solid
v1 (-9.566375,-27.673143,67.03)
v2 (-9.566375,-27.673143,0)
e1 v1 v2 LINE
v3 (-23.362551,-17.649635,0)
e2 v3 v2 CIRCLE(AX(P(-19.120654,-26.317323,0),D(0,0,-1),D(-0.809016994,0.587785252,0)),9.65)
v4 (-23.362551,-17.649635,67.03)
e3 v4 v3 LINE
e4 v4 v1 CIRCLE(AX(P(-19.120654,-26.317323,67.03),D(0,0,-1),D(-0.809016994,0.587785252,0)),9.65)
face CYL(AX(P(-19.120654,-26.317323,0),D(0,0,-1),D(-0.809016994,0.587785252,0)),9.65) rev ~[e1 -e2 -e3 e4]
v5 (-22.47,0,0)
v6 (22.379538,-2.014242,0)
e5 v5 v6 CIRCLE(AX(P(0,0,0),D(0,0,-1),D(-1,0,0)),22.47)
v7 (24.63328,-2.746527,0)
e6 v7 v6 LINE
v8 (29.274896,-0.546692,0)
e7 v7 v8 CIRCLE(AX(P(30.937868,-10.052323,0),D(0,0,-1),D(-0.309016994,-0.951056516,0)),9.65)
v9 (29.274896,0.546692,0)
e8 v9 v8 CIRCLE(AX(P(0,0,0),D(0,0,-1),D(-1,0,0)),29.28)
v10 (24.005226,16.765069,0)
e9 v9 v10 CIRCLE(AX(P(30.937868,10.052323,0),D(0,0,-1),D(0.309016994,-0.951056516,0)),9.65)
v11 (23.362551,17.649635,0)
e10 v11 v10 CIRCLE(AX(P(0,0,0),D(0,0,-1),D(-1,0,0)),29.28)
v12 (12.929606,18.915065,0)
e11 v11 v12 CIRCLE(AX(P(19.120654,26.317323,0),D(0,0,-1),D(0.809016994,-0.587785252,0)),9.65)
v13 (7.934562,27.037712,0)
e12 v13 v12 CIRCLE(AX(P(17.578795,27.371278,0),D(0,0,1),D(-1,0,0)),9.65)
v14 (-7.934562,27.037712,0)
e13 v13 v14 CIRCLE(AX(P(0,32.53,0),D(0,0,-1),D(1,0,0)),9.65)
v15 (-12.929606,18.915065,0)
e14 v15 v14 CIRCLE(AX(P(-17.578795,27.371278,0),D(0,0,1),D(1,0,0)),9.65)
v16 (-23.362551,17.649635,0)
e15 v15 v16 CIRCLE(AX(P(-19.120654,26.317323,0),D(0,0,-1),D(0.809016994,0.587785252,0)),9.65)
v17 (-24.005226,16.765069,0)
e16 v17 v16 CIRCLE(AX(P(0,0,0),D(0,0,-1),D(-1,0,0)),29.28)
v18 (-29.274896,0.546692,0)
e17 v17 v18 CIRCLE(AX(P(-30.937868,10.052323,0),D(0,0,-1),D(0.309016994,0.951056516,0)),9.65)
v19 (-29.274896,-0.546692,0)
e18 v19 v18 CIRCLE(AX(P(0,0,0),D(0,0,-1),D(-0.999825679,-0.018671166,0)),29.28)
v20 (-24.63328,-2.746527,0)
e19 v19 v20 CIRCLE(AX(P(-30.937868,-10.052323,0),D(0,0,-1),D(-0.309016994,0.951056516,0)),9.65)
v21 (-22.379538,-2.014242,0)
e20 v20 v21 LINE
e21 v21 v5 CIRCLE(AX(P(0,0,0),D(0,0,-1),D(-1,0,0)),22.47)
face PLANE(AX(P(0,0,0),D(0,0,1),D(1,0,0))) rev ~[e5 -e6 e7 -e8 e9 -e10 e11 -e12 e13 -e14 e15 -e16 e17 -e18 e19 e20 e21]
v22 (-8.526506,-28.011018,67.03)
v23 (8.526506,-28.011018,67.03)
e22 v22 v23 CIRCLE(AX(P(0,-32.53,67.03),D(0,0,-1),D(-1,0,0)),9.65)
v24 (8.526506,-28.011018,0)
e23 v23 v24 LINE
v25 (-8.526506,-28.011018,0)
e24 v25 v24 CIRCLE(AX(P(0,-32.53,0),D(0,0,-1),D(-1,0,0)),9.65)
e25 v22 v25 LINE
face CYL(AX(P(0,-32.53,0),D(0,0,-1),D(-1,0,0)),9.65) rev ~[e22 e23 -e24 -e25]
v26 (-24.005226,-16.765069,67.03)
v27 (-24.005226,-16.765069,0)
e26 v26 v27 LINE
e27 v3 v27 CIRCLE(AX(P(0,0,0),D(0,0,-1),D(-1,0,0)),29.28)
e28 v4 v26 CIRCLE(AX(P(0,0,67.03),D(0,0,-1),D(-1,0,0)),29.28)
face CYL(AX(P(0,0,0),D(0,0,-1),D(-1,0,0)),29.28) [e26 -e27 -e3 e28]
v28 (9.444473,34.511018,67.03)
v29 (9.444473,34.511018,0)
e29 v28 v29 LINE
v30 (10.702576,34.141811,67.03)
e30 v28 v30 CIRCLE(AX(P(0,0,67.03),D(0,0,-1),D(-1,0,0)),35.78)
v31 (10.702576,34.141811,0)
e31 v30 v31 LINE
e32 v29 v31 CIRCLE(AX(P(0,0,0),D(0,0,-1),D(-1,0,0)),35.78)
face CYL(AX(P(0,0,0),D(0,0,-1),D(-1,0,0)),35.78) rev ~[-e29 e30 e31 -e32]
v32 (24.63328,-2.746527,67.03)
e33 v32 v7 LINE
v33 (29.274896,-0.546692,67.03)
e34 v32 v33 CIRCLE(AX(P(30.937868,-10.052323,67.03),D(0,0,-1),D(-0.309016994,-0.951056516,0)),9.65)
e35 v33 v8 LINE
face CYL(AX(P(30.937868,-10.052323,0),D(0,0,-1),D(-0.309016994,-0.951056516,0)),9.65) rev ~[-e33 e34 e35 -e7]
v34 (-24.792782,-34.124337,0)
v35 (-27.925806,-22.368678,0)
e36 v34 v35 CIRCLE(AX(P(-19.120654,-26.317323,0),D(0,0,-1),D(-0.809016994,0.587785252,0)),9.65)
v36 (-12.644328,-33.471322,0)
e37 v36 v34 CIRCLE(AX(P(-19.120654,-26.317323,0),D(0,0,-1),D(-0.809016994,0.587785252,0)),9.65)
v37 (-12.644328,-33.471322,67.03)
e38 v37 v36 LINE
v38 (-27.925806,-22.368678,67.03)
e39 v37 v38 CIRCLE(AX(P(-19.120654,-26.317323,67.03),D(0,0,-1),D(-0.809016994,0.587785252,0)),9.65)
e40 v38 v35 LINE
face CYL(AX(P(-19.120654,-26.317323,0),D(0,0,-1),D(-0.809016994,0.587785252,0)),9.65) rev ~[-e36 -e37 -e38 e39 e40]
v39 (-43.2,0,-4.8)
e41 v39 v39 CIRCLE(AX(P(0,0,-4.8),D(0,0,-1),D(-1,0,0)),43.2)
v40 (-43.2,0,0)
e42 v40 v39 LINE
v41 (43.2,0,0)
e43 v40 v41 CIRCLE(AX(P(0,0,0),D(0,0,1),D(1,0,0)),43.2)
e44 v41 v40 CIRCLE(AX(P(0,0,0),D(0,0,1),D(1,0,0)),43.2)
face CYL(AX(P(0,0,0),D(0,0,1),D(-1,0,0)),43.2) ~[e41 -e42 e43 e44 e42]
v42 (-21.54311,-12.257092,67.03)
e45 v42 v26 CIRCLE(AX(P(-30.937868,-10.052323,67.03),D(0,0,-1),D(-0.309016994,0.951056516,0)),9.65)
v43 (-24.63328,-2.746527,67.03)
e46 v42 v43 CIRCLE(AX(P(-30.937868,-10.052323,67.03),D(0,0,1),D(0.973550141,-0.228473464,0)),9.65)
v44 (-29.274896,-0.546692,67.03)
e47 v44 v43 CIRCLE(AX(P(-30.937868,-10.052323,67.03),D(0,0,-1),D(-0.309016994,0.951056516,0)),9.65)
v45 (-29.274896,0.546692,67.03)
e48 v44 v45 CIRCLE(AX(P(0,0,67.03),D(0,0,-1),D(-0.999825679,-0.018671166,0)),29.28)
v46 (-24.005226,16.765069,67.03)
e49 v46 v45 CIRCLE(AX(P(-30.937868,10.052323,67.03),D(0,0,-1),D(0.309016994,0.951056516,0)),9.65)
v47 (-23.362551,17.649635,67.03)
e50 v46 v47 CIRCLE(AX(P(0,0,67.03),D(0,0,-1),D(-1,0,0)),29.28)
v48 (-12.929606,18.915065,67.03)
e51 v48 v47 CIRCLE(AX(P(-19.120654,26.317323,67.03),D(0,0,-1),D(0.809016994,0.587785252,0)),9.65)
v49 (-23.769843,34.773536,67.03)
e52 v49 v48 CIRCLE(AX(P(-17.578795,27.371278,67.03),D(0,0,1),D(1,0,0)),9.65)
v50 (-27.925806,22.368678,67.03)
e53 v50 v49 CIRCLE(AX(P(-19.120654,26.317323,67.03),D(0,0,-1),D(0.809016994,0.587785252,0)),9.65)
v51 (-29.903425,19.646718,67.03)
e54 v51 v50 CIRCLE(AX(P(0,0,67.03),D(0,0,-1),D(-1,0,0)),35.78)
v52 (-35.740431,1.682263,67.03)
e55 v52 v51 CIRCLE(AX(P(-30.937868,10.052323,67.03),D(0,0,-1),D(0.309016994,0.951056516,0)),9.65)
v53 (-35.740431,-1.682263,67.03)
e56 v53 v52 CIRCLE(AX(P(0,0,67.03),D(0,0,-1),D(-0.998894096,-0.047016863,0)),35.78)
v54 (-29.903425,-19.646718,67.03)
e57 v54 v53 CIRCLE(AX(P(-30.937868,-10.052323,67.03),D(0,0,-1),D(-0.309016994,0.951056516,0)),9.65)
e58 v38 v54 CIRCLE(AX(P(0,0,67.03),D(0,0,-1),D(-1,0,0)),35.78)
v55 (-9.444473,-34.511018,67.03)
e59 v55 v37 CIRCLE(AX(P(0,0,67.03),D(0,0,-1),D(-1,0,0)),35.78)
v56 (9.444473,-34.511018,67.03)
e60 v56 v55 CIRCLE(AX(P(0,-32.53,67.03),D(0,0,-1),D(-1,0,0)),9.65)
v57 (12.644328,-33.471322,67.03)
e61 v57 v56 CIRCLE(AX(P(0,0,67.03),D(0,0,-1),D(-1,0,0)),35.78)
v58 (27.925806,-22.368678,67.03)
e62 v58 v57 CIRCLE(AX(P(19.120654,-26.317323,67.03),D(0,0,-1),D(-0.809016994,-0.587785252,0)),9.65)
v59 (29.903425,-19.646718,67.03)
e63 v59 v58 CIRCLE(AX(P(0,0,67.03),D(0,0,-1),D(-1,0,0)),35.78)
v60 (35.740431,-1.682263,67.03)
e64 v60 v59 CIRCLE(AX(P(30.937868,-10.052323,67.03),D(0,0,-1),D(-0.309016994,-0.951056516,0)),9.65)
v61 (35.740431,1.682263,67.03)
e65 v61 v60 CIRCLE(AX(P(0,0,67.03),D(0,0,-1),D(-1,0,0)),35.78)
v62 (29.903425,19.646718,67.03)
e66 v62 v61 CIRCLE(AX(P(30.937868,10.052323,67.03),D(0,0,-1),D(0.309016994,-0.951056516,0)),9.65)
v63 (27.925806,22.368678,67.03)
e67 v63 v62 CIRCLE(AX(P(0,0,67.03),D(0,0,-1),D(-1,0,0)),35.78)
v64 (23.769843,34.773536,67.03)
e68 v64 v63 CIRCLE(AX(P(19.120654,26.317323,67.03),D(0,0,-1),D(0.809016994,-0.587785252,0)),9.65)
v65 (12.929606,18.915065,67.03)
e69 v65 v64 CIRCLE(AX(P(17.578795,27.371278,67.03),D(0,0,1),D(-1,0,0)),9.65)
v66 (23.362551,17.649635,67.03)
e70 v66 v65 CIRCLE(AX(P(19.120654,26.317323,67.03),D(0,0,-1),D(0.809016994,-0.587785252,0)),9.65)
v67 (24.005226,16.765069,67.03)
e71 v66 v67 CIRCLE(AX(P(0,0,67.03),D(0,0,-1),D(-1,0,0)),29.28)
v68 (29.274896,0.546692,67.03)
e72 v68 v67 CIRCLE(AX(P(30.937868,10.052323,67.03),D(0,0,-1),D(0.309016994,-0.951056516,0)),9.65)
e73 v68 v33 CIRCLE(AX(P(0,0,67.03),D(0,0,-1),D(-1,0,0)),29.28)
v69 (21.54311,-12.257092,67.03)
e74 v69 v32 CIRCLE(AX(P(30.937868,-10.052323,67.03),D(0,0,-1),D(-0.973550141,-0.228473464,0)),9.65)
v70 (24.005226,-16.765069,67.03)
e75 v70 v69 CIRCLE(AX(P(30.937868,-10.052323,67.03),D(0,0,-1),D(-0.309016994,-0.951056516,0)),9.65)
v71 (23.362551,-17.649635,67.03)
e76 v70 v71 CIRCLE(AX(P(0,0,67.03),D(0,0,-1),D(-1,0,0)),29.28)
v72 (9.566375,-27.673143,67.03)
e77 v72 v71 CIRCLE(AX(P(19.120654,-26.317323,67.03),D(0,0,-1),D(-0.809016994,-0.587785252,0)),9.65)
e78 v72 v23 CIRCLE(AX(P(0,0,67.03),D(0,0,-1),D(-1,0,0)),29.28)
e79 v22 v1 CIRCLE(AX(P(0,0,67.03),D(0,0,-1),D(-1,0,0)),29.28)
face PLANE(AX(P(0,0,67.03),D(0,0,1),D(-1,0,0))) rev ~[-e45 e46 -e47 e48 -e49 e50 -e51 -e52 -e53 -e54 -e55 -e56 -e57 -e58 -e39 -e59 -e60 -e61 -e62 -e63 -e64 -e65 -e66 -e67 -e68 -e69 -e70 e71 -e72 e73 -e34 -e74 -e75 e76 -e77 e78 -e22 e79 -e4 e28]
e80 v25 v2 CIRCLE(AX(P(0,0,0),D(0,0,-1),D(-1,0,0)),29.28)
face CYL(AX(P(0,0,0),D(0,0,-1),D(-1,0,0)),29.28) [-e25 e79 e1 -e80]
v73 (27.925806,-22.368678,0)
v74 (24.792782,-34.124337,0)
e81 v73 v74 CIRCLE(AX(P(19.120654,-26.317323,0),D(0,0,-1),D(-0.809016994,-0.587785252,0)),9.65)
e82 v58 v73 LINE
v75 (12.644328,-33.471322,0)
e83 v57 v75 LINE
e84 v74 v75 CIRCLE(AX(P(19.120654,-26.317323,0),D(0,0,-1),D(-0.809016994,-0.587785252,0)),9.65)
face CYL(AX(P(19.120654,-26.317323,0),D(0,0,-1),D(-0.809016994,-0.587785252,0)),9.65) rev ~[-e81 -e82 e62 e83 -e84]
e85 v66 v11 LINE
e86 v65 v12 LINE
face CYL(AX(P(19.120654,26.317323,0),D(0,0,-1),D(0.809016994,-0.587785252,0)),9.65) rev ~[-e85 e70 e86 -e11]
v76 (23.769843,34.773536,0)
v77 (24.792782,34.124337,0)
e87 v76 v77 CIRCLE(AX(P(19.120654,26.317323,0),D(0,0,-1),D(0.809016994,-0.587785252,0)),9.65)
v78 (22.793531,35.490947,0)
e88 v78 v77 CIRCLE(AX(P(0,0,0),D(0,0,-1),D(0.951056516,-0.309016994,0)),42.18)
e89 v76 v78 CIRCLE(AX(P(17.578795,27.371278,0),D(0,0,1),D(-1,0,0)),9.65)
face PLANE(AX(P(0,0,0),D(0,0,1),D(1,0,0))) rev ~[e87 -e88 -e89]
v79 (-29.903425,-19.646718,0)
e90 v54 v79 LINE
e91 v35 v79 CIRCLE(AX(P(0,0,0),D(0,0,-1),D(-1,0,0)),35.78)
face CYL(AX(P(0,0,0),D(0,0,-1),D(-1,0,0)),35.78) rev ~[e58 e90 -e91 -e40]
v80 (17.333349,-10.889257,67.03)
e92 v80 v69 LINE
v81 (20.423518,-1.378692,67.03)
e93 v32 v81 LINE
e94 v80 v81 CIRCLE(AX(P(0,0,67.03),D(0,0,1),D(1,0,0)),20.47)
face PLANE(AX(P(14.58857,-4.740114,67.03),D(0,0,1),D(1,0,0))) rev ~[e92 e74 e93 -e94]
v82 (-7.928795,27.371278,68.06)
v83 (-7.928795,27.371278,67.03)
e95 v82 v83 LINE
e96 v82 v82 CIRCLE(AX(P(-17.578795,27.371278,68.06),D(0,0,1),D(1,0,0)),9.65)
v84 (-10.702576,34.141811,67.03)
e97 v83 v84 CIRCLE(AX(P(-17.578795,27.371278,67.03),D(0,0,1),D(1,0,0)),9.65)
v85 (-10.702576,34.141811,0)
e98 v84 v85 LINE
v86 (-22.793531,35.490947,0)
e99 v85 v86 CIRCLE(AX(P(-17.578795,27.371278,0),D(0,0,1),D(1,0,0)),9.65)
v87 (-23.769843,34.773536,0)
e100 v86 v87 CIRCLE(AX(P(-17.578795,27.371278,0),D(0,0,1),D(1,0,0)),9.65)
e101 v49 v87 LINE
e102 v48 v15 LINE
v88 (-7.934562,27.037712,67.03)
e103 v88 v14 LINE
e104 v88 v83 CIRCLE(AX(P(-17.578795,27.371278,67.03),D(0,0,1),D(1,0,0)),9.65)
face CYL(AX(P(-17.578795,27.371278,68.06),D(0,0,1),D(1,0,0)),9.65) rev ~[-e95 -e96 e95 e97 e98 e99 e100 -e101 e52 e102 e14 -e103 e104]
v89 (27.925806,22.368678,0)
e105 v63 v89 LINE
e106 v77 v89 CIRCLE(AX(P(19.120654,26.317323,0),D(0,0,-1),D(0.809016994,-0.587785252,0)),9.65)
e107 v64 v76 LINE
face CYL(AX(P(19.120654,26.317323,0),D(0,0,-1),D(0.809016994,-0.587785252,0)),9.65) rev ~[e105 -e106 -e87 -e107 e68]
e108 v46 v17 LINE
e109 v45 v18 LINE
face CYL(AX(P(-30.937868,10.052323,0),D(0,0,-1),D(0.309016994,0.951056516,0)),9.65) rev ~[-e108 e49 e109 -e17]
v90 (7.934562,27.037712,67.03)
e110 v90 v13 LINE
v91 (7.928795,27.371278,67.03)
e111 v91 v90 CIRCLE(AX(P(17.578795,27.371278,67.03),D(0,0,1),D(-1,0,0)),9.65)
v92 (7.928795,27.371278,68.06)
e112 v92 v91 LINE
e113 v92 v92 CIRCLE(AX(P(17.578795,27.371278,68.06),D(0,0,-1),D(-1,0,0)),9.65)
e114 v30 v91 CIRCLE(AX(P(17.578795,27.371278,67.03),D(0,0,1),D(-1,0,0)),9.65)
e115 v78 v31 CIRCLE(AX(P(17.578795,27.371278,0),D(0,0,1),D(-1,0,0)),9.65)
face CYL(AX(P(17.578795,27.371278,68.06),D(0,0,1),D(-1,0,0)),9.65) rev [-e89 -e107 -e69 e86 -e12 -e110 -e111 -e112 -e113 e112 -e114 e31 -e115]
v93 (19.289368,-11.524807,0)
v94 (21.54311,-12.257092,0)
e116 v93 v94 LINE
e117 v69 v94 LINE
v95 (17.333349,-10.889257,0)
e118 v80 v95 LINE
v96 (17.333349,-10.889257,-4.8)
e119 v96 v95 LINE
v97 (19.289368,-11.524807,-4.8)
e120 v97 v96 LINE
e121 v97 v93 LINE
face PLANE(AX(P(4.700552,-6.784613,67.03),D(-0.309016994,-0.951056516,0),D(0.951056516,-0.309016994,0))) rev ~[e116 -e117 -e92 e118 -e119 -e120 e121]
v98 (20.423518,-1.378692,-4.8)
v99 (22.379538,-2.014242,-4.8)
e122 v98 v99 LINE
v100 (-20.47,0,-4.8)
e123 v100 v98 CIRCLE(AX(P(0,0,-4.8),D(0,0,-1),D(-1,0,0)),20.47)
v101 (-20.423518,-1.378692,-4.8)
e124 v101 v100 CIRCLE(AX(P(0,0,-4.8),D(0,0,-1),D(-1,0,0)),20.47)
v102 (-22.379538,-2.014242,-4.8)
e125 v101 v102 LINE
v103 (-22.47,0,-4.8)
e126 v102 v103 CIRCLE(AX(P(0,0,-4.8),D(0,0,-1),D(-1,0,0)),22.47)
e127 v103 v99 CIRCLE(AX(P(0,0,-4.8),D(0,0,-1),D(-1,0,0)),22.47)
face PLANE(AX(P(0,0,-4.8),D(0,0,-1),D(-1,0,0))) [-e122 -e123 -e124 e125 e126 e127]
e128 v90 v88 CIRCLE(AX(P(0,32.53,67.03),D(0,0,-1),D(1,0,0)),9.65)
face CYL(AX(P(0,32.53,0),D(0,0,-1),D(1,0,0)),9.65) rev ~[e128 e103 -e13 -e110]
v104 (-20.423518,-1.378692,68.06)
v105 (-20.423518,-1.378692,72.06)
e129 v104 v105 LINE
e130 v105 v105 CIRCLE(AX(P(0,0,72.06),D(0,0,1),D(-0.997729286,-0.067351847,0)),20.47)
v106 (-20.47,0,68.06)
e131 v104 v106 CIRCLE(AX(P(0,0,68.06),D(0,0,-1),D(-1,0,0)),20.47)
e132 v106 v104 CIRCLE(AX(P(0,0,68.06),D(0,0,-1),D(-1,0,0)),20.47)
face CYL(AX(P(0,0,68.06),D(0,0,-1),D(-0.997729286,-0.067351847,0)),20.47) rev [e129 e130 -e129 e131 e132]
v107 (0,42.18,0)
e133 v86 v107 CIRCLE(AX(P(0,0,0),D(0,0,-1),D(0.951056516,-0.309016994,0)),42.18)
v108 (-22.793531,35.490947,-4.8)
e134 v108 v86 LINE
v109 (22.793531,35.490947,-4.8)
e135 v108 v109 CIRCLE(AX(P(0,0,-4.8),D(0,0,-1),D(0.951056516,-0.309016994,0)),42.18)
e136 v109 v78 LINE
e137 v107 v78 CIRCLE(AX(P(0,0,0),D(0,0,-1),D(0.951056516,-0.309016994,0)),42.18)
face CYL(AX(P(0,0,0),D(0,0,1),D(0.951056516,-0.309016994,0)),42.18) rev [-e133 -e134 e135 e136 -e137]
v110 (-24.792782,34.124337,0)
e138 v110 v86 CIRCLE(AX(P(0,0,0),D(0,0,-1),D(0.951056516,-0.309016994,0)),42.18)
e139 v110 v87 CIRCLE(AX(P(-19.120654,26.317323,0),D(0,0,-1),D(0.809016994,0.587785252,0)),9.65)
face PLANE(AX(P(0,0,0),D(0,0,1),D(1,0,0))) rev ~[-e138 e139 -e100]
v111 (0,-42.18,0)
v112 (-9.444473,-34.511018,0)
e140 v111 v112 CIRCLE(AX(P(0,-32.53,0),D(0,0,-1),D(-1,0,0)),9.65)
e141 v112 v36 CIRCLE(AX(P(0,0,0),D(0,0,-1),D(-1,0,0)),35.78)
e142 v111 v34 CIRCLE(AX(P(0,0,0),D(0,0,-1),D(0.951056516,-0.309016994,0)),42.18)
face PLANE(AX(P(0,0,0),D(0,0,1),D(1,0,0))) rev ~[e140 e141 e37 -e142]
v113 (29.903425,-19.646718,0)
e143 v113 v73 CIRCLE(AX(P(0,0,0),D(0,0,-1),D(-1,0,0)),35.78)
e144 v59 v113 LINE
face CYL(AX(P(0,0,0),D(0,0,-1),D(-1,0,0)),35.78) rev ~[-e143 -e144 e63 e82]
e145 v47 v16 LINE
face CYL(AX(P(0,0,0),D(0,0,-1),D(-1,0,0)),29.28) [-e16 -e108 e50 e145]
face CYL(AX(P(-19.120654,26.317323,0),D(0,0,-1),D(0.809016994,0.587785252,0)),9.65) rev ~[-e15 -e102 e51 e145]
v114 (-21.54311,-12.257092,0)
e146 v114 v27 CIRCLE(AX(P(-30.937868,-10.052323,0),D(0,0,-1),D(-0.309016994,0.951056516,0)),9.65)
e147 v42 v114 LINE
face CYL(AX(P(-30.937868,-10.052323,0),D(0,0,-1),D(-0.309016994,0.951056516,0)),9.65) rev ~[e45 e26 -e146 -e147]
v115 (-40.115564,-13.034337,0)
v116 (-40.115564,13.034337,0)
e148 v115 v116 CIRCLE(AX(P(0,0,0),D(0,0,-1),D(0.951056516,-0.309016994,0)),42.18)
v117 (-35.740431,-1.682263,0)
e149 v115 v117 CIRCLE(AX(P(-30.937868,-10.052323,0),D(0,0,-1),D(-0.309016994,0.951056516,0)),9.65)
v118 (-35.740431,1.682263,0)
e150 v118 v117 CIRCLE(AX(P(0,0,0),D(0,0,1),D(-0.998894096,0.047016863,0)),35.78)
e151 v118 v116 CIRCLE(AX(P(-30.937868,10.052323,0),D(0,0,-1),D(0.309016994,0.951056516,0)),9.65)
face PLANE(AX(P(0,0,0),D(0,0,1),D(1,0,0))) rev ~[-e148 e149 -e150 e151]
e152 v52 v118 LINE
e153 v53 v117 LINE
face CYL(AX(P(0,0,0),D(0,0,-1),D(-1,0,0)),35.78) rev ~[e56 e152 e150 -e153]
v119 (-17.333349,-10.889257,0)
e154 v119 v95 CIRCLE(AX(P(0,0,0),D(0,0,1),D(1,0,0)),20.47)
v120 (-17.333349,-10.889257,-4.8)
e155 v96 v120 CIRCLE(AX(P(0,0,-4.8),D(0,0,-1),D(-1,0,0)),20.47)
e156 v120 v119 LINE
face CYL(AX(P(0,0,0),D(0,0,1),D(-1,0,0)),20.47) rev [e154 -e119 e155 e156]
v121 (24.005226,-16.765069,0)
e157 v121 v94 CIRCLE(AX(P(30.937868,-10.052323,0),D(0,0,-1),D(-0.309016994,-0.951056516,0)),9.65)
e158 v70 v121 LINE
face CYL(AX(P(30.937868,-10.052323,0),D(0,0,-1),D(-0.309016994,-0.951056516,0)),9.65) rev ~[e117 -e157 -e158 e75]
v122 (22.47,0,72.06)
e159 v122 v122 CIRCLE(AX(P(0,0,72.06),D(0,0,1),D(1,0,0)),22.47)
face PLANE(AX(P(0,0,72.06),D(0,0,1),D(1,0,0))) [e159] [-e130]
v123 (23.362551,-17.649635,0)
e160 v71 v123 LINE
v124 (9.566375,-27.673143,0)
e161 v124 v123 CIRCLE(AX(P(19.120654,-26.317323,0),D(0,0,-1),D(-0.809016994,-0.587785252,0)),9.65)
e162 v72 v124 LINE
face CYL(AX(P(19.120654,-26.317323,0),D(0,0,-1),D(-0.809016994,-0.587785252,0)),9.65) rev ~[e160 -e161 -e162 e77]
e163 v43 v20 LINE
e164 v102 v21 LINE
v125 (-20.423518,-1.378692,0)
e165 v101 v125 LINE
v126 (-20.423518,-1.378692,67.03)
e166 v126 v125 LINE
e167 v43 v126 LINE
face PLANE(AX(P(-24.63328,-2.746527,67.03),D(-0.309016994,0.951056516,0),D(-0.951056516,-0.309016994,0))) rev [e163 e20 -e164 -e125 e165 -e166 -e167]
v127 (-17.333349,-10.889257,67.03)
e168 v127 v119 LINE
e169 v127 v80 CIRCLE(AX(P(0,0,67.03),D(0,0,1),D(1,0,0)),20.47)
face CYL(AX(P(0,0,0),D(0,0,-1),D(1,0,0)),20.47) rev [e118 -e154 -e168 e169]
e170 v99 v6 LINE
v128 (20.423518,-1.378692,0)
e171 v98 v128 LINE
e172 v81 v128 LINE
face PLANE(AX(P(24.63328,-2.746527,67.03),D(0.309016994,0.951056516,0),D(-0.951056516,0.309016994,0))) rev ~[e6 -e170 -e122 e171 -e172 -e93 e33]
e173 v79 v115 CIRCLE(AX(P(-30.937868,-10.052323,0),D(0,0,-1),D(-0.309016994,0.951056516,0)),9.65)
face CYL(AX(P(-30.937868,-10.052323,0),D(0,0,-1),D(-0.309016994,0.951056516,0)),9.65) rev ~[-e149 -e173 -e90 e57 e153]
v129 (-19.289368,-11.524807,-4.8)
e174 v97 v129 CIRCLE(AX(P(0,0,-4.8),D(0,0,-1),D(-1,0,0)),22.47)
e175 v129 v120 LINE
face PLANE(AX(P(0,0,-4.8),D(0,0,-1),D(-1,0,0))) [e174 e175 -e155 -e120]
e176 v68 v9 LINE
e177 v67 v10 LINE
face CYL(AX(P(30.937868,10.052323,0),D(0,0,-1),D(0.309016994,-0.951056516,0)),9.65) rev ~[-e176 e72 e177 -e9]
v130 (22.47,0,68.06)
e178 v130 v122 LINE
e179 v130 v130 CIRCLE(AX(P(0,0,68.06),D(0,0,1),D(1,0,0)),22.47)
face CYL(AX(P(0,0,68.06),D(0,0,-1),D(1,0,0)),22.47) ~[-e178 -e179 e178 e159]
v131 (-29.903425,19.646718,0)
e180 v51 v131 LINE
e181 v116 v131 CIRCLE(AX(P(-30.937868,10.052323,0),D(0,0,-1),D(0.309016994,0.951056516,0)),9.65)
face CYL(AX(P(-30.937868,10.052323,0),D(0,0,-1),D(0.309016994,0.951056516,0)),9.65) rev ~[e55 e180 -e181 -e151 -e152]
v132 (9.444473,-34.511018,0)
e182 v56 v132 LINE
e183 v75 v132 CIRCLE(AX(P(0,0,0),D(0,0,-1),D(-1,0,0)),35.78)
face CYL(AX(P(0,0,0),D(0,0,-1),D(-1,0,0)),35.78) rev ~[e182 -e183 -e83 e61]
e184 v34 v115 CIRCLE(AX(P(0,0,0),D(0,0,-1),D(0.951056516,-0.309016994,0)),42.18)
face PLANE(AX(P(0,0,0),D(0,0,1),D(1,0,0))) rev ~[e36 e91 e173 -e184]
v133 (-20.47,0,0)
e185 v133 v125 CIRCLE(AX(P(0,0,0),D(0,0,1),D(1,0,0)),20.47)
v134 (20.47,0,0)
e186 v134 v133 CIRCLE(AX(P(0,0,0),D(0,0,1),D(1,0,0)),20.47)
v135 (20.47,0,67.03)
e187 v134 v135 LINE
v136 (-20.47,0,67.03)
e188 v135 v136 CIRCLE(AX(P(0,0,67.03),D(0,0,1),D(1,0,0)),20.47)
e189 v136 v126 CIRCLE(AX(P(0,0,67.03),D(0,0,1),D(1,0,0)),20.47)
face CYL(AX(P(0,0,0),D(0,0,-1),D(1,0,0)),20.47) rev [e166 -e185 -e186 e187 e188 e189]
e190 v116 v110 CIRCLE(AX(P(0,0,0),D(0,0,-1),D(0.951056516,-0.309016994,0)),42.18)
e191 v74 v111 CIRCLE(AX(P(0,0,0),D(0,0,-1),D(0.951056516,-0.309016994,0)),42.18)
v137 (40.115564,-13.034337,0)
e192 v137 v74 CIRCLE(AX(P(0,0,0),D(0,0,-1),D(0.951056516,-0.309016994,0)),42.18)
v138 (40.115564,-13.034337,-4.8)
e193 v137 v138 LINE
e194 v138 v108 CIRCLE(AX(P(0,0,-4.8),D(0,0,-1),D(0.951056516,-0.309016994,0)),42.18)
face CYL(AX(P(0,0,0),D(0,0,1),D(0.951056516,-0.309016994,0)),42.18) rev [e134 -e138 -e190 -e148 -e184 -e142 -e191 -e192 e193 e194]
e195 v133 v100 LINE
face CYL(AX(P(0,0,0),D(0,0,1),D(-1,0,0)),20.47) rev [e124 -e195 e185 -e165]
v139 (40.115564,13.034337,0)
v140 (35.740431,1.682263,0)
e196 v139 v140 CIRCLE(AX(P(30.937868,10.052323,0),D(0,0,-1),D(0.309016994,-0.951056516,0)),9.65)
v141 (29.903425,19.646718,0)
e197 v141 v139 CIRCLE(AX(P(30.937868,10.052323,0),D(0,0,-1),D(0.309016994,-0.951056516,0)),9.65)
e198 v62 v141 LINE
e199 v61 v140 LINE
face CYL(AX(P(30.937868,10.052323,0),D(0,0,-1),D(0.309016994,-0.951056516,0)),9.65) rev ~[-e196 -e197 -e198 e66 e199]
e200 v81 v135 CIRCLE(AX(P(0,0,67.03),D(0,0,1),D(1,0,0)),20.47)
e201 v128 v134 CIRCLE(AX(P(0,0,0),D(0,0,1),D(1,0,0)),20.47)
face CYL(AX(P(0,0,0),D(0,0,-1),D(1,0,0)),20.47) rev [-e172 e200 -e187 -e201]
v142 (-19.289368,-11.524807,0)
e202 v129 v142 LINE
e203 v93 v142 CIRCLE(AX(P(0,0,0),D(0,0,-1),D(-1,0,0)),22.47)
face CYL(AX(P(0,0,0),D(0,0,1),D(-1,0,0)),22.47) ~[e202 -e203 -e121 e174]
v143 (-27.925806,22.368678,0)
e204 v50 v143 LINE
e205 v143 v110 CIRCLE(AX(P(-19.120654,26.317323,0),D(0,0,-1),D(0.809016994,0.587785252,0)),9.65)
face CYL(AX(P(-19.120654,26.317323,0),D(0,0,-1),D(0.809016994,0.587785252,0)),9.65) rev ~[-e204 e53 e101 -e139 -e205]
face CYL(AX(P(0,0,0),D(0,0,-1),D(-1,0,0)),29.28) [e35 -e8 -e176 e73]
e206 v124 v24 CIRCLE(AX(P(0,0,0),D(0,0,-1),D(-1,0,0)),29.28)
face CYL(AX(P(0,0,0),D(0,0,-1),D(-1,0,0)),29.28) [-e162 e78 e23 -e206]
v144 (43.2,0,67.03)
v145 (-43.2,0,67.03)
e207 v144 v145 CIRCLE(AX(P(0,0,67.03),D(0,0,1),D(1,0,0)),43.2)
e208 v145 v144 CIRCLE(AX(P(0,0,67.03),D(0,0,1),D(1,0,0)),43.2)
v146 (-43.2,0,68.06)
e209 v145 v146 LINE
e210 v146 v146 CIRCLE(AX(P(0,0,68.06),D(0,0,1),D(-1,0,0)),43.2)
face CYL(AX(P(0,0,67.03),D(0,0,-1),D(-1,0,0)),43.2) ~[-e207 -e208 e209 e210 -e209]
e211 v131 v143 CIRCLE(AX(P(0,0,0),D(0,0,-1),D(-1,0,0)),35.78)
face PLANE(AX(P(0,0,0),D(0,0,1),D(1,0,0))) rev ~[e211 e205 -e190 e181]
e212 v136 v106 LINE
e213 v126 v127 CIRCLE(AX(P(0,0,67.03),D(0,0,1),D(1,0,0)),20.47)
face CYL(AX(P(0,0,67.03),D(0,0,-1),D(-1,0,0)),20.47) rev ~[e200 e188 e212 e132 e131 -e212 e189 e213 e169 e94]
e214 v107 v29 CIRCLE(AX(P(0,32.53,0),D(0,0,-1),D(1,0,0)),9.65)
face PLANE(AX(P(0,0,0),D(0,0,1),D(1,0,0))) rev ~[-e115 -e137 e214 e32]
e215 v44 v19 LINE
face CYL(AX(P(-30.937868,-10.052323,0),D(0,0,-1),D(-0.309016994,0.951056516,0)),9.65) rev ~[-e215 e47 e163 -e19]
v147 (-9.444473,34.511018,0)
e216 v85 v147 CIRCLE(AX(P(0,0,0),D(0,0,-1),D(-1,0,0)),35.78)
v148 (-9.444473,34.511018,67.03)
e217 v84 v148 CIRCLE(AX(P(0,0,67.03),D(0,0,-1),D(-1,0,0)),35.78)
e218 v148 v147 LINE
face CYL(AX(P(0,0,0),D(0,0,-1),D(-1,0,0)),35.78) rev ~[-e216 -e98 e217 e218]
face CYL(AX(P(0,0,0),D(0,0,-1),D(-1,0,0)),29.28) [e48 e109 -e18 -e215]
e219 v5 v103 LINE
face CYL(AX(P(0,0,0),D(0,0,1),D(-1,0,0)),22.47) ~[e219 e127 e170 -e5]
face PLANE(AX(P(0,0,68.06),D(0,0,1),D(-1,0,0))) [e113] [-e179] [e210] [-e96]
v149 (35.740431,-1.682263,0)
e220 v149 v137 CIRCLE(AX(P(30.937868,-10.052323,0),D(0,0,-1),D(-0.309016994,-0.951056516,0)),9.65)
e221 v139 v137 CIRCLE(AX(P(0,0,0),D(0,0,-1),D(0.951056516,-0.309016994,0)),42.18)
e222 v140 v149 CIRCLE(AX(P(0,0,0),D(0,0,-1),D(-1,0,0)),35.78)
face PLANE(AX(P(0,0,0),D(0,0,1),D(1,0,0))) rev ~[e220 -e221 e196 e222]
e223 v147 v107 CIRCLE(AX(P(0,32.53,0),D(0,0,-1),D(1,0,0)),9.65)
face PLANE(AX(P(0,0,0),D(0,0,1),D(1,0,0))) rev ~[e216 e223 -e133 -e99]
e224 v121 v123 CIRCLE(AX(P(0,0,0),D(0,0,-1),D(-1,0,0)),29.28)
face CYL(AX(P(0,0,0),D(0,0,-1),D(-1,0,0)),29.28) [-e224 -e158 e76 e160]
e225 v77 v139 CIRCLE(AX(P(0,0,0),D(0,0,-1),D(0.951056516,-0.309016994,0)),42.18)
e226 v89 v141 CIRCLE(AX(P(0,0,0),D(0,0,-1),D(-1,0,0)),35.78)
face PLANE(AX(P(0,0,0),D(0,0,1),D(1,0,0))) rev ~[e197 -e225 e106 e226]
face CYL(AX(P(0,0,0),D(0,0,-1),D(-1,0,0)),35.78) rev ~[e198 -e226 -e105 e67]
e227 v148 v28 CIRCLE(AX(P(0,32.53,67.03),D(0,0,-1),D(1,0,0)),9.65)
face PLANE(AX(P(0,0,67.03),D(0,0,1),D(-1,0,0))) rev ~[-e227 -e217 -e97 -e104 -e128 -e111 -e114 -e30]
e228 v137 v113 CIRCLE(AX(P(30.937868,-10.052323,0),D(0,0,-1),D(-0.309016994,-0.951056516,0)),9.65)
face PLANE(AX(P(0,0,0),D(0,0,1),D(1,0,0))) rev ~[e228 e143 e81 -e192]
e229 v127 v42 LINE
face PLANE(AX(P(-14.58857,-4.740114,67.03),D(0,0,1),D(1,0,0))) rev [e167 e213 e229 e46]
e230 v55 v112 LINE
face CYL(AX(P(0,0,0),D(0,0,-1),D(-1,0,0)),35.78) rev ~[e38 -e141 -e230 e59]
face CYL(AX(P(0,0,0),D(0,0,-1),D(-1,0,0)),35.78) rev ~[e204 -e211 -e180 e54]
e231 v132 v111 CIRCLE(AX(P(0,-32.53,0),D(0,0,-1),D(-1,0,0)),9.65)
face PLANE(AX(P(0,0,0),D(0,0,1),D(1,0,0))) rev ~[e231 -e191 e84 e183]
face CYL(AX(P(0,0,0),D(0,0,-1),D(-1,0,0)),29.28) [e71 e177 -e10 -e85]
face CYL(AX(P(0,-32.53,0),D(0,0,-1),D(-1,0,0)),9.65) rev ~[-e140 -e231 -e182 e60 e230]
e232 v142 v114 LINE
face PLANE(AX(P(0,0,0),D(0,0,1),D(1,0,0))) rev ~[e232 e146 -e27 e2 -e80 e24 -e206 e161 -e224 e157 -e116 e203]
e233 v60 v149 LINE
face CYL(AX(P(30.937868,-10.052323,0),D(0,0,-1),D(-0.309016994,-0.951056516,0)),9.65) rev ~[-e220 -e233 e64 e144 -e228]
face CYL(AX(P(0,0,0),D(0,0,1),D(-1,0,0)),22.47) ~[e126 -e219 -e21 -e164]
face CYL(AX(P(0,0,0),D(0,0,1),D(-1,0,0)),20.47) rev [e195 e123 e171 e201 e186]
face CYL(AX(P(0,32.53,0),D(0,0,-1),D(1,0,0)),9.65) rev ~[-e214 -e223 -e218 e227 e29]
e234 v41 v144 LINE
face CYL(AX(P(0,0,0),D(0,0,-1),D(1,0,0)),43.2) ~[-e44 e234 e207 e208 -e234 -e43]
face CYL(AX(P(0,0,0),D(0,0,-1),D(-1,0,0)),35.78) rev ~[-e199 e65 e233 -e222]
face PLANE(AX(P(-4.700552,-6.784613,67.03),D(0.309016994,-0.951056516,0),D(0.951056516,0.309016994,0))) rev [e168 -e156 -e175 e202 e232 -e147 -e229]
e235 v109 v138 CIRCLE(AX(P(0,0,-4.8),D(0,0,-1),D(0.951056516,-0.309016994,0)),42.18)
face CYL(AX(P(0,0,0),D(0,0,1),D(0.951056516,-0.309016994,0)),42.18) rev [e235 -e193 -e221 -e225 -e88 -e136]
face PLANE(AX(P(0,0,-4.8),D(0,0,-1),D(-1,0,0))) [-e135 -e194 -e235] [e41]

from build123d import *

# Parameters (mm, degrees)
SKETCH1_R                  = 43.2
SKETCH1_R_2                = 20.47
BASIC_SHAPE_DEPTH          = 67.03
SKETCH2_R                  = 9.65
BATTERY_SLOT_DEPTH         = 67.03
BATTERY_SLOT_PATTERN_COUNT = 10
SKETCH4_R                  = 35.78
SKETCH4_R_2                = 29.28
BUS_SLOT_DEPTH             = 67.03
SKETCH5_R                  = 43.2
SKETCH5_R_2                = 42.18
SKETCH5_R_3                = 22.47
SKETCH5_R_4                = 20.47
BOTTOM_LIP_DEPTH           = 4.8
SKETCH6_R                  = 43.2
TOP_CAP_DEPTH              = 1.03
SKETCH7_R                  = 9.65
PENNY_HOLE_DEPTH           = 96.084486642
WIRE_START                 = -67.03
WIRE_SLIT_DEPTH            = 159.488425528
SKETCH9_R                  = 20.47
RE_CUT_BASIC_SHAPE_DEPTH   = 95.297555111
SKETCH10_R                 = 22.47
SKETCH10_R_2               = 20.47
TOP_LIP_DEPTH              = 4


with BuildPart() as part:
    # Sketch1 → Basic Shape (new body)
    with BuildSketch(Plane.XY):
        Circle(SKETCH1_R)
        Circle(SKETCH1_R_2, mode=Mode.SUBTRACT)
    extrude(amount=BASIC_SHAPE_DEPTH)

    # Sketch2 → Battery Slot (cut)
    with BuildSketch(Plane(origin=(0, 0, 0), x_dir=(-1, 0, 0), z_dir=(0, 0, -1))):
        with Locations((0, -32.53)):
            Circle(SKETCH2_R)
    battery_slot = extrude(amount=-BATTERY_SLOT_DEPTH, mode=Mode.SUBTRACT)

    # Battery Slot Pattern: Battery Slot ×10 about axis
    battery_slot_pattern_axis = Axis((0, 0, 0), (0, 0, 1))
    for i in range(1, BATTERY_SLOT_PATTERN_COUNT):
        add(battery_slot.rotate(battery_slot_pattern_axis, i * 360 / BATTERY_SLOT_PATTERN_COUNT), mode=Mode.SUBTRACT)

    # Sketch4 → Bus Slot (cut)
    with BuildSketch(Plane(origin=(0, 0, 0), x_dir=(-1, 0, 0), z_dir=(0, 0, -1))):
        Circle(SKETCH4_R)
        Circle(SKETCH4_R_2, mode=Mode.SUBTRACT)
    extrude(amount=-BUS_SLOT_DEPTH, mode=Mode.SUBTRACT)


with BuildPart() as bus_slot_piece_1:
    # of the separate pieces the step leaves, piece 1, a body of its own (bus_slot_pieces)
    add(part.part.solids().sort_by_distance((43.2, 0, 0))[0])



with BuildPart() as bus_slot_piece_2:
    # of the separate pieces the step leaves, piece 2, a body of its own (bus_slot_pieces)
    add(part.part.solids().sort_by_distance((-8.526505578, -28.011017522, 0))[0])


with BuildPart() as bus_slot_piece_1_1:
    add(bus_slot_piece_1.part)

    add(bus_slot_piece_2.part)  # Bottom Lip merges Bus Slot piece 2
    # Sketch5 → Bottom Lip (add)
    # profile 1 of 2: a face of its own
    with BuildSketch(Plane(origin=(0, 0, 0), x_dir=(-1, 0, 0), z_dir=(0, 0, -1))):
        Circle(SKETCH5_R)
        with Locations(Location((0, 0, 0), (0, 0, 198))):
            Circle(SKETCH5_R_2, mode=Mode.SUBTRACT)
    # profile 2 of 2: a face of its own
    with BuildSketch(Plane(origin=(0, 0, 0), x_dir=(-1, 0, 0), z_dir=(0, 0, -1))):
        Circle(SKETCH5_R_3)
        Circle(SKETCH5_R_4, mode=Mode.SUBTRACT)
    extrude(amount=BOTTOM_LIP_DEPTH)

    # Sketch6 → Top Cap (add)
    with BuildSketch(Plane.XY.offset(67.03)):
        with Locations(Location((0, 0, 0), (0, 0, 180))):
            Circle(SKETCH6_R)
    extrude(amount=TOP_CAP_DEPTH)

    # Sketch7 → Penny Hole (cut, through all)
    with BuildSketch(Plane.XY.offset(68.06)):
        with Locations((-17.578795082, 27.371278075)):
            Circle(SKETCH7_R)
    penny_hole = extrude(amount=-PENNY_HOLE_DEPTH, mode=Mode.SUBTRACT)

    # Penny Hole Mirror: Penny Hole across plane
    add(penny_hole.mirror(Plane(origin=(0, 0, 0), x_dir=(0, 0, 1), z_dir=(1, 0, 0))), mode=Mode.SUBTRACT)

    # Sketch8 → Wire Slit (cut)
    with BuildSketch(Plane(origin=(0, 0, 0), x_dir=(-1, 0, 0), z_dir=(0, 0, -1)).offset(WIRE_START)):
        with BuildLine():
            Line((-24.633279562, -2.746526591), (-7.790722211, 2.725952027))
            Line((-7.790722211, 2.725952027), (-4.700552267, -6.784613136))
            Line((-4.700552267, -6.784613136), (-21.543109618, -12.257091754))
            ThreePointArc((-21.543109618, -12.257091754), (-21.760173093, -7.070308831), (-24.633279562, -2.746526591))
        make_face()
    wire_slit = extrude(amount=WIRE_SLIT_DEPTH, mode=Mode.SUBTRACT)

    # Wire Slit Mirror: Wire Slit across plane
    add(wire_slit.mirror(Plane(origin=(0, 0, 0), x_dir=(0, 0, 1), z_dir=(1, 0, 0))), mode=Mode.SUBTRACT)

    # Sketch9 → Re-Cut Basic Shape (cut, through all)
    with BuildSketch(Plane(origin=(0, 0, 67.03), x_dir=(-1, 0, 0), z_dir=(0, 0, -1))):
        Circle(SKETCH9_R)
    extrude(amount=-RE_CUT_BASIC_SHAPE_DEPTH, mode=Mode.SUBTRACT)

    # Sketch10 → Top Lip (add)
    with BuildSketch(Plane.XY.offset(68.06)):
        Circle(SKETCH10_R)
        with Locations(Location((0, 0, 0), (0, 0, 183.861900093))):
            Circle(SKETCH10_R_2, mode=Mode.SUBTRACT)
    extrude(amount=TOP_LIP_DEPTH)


solid = bus_slot_piece_1_1.part
